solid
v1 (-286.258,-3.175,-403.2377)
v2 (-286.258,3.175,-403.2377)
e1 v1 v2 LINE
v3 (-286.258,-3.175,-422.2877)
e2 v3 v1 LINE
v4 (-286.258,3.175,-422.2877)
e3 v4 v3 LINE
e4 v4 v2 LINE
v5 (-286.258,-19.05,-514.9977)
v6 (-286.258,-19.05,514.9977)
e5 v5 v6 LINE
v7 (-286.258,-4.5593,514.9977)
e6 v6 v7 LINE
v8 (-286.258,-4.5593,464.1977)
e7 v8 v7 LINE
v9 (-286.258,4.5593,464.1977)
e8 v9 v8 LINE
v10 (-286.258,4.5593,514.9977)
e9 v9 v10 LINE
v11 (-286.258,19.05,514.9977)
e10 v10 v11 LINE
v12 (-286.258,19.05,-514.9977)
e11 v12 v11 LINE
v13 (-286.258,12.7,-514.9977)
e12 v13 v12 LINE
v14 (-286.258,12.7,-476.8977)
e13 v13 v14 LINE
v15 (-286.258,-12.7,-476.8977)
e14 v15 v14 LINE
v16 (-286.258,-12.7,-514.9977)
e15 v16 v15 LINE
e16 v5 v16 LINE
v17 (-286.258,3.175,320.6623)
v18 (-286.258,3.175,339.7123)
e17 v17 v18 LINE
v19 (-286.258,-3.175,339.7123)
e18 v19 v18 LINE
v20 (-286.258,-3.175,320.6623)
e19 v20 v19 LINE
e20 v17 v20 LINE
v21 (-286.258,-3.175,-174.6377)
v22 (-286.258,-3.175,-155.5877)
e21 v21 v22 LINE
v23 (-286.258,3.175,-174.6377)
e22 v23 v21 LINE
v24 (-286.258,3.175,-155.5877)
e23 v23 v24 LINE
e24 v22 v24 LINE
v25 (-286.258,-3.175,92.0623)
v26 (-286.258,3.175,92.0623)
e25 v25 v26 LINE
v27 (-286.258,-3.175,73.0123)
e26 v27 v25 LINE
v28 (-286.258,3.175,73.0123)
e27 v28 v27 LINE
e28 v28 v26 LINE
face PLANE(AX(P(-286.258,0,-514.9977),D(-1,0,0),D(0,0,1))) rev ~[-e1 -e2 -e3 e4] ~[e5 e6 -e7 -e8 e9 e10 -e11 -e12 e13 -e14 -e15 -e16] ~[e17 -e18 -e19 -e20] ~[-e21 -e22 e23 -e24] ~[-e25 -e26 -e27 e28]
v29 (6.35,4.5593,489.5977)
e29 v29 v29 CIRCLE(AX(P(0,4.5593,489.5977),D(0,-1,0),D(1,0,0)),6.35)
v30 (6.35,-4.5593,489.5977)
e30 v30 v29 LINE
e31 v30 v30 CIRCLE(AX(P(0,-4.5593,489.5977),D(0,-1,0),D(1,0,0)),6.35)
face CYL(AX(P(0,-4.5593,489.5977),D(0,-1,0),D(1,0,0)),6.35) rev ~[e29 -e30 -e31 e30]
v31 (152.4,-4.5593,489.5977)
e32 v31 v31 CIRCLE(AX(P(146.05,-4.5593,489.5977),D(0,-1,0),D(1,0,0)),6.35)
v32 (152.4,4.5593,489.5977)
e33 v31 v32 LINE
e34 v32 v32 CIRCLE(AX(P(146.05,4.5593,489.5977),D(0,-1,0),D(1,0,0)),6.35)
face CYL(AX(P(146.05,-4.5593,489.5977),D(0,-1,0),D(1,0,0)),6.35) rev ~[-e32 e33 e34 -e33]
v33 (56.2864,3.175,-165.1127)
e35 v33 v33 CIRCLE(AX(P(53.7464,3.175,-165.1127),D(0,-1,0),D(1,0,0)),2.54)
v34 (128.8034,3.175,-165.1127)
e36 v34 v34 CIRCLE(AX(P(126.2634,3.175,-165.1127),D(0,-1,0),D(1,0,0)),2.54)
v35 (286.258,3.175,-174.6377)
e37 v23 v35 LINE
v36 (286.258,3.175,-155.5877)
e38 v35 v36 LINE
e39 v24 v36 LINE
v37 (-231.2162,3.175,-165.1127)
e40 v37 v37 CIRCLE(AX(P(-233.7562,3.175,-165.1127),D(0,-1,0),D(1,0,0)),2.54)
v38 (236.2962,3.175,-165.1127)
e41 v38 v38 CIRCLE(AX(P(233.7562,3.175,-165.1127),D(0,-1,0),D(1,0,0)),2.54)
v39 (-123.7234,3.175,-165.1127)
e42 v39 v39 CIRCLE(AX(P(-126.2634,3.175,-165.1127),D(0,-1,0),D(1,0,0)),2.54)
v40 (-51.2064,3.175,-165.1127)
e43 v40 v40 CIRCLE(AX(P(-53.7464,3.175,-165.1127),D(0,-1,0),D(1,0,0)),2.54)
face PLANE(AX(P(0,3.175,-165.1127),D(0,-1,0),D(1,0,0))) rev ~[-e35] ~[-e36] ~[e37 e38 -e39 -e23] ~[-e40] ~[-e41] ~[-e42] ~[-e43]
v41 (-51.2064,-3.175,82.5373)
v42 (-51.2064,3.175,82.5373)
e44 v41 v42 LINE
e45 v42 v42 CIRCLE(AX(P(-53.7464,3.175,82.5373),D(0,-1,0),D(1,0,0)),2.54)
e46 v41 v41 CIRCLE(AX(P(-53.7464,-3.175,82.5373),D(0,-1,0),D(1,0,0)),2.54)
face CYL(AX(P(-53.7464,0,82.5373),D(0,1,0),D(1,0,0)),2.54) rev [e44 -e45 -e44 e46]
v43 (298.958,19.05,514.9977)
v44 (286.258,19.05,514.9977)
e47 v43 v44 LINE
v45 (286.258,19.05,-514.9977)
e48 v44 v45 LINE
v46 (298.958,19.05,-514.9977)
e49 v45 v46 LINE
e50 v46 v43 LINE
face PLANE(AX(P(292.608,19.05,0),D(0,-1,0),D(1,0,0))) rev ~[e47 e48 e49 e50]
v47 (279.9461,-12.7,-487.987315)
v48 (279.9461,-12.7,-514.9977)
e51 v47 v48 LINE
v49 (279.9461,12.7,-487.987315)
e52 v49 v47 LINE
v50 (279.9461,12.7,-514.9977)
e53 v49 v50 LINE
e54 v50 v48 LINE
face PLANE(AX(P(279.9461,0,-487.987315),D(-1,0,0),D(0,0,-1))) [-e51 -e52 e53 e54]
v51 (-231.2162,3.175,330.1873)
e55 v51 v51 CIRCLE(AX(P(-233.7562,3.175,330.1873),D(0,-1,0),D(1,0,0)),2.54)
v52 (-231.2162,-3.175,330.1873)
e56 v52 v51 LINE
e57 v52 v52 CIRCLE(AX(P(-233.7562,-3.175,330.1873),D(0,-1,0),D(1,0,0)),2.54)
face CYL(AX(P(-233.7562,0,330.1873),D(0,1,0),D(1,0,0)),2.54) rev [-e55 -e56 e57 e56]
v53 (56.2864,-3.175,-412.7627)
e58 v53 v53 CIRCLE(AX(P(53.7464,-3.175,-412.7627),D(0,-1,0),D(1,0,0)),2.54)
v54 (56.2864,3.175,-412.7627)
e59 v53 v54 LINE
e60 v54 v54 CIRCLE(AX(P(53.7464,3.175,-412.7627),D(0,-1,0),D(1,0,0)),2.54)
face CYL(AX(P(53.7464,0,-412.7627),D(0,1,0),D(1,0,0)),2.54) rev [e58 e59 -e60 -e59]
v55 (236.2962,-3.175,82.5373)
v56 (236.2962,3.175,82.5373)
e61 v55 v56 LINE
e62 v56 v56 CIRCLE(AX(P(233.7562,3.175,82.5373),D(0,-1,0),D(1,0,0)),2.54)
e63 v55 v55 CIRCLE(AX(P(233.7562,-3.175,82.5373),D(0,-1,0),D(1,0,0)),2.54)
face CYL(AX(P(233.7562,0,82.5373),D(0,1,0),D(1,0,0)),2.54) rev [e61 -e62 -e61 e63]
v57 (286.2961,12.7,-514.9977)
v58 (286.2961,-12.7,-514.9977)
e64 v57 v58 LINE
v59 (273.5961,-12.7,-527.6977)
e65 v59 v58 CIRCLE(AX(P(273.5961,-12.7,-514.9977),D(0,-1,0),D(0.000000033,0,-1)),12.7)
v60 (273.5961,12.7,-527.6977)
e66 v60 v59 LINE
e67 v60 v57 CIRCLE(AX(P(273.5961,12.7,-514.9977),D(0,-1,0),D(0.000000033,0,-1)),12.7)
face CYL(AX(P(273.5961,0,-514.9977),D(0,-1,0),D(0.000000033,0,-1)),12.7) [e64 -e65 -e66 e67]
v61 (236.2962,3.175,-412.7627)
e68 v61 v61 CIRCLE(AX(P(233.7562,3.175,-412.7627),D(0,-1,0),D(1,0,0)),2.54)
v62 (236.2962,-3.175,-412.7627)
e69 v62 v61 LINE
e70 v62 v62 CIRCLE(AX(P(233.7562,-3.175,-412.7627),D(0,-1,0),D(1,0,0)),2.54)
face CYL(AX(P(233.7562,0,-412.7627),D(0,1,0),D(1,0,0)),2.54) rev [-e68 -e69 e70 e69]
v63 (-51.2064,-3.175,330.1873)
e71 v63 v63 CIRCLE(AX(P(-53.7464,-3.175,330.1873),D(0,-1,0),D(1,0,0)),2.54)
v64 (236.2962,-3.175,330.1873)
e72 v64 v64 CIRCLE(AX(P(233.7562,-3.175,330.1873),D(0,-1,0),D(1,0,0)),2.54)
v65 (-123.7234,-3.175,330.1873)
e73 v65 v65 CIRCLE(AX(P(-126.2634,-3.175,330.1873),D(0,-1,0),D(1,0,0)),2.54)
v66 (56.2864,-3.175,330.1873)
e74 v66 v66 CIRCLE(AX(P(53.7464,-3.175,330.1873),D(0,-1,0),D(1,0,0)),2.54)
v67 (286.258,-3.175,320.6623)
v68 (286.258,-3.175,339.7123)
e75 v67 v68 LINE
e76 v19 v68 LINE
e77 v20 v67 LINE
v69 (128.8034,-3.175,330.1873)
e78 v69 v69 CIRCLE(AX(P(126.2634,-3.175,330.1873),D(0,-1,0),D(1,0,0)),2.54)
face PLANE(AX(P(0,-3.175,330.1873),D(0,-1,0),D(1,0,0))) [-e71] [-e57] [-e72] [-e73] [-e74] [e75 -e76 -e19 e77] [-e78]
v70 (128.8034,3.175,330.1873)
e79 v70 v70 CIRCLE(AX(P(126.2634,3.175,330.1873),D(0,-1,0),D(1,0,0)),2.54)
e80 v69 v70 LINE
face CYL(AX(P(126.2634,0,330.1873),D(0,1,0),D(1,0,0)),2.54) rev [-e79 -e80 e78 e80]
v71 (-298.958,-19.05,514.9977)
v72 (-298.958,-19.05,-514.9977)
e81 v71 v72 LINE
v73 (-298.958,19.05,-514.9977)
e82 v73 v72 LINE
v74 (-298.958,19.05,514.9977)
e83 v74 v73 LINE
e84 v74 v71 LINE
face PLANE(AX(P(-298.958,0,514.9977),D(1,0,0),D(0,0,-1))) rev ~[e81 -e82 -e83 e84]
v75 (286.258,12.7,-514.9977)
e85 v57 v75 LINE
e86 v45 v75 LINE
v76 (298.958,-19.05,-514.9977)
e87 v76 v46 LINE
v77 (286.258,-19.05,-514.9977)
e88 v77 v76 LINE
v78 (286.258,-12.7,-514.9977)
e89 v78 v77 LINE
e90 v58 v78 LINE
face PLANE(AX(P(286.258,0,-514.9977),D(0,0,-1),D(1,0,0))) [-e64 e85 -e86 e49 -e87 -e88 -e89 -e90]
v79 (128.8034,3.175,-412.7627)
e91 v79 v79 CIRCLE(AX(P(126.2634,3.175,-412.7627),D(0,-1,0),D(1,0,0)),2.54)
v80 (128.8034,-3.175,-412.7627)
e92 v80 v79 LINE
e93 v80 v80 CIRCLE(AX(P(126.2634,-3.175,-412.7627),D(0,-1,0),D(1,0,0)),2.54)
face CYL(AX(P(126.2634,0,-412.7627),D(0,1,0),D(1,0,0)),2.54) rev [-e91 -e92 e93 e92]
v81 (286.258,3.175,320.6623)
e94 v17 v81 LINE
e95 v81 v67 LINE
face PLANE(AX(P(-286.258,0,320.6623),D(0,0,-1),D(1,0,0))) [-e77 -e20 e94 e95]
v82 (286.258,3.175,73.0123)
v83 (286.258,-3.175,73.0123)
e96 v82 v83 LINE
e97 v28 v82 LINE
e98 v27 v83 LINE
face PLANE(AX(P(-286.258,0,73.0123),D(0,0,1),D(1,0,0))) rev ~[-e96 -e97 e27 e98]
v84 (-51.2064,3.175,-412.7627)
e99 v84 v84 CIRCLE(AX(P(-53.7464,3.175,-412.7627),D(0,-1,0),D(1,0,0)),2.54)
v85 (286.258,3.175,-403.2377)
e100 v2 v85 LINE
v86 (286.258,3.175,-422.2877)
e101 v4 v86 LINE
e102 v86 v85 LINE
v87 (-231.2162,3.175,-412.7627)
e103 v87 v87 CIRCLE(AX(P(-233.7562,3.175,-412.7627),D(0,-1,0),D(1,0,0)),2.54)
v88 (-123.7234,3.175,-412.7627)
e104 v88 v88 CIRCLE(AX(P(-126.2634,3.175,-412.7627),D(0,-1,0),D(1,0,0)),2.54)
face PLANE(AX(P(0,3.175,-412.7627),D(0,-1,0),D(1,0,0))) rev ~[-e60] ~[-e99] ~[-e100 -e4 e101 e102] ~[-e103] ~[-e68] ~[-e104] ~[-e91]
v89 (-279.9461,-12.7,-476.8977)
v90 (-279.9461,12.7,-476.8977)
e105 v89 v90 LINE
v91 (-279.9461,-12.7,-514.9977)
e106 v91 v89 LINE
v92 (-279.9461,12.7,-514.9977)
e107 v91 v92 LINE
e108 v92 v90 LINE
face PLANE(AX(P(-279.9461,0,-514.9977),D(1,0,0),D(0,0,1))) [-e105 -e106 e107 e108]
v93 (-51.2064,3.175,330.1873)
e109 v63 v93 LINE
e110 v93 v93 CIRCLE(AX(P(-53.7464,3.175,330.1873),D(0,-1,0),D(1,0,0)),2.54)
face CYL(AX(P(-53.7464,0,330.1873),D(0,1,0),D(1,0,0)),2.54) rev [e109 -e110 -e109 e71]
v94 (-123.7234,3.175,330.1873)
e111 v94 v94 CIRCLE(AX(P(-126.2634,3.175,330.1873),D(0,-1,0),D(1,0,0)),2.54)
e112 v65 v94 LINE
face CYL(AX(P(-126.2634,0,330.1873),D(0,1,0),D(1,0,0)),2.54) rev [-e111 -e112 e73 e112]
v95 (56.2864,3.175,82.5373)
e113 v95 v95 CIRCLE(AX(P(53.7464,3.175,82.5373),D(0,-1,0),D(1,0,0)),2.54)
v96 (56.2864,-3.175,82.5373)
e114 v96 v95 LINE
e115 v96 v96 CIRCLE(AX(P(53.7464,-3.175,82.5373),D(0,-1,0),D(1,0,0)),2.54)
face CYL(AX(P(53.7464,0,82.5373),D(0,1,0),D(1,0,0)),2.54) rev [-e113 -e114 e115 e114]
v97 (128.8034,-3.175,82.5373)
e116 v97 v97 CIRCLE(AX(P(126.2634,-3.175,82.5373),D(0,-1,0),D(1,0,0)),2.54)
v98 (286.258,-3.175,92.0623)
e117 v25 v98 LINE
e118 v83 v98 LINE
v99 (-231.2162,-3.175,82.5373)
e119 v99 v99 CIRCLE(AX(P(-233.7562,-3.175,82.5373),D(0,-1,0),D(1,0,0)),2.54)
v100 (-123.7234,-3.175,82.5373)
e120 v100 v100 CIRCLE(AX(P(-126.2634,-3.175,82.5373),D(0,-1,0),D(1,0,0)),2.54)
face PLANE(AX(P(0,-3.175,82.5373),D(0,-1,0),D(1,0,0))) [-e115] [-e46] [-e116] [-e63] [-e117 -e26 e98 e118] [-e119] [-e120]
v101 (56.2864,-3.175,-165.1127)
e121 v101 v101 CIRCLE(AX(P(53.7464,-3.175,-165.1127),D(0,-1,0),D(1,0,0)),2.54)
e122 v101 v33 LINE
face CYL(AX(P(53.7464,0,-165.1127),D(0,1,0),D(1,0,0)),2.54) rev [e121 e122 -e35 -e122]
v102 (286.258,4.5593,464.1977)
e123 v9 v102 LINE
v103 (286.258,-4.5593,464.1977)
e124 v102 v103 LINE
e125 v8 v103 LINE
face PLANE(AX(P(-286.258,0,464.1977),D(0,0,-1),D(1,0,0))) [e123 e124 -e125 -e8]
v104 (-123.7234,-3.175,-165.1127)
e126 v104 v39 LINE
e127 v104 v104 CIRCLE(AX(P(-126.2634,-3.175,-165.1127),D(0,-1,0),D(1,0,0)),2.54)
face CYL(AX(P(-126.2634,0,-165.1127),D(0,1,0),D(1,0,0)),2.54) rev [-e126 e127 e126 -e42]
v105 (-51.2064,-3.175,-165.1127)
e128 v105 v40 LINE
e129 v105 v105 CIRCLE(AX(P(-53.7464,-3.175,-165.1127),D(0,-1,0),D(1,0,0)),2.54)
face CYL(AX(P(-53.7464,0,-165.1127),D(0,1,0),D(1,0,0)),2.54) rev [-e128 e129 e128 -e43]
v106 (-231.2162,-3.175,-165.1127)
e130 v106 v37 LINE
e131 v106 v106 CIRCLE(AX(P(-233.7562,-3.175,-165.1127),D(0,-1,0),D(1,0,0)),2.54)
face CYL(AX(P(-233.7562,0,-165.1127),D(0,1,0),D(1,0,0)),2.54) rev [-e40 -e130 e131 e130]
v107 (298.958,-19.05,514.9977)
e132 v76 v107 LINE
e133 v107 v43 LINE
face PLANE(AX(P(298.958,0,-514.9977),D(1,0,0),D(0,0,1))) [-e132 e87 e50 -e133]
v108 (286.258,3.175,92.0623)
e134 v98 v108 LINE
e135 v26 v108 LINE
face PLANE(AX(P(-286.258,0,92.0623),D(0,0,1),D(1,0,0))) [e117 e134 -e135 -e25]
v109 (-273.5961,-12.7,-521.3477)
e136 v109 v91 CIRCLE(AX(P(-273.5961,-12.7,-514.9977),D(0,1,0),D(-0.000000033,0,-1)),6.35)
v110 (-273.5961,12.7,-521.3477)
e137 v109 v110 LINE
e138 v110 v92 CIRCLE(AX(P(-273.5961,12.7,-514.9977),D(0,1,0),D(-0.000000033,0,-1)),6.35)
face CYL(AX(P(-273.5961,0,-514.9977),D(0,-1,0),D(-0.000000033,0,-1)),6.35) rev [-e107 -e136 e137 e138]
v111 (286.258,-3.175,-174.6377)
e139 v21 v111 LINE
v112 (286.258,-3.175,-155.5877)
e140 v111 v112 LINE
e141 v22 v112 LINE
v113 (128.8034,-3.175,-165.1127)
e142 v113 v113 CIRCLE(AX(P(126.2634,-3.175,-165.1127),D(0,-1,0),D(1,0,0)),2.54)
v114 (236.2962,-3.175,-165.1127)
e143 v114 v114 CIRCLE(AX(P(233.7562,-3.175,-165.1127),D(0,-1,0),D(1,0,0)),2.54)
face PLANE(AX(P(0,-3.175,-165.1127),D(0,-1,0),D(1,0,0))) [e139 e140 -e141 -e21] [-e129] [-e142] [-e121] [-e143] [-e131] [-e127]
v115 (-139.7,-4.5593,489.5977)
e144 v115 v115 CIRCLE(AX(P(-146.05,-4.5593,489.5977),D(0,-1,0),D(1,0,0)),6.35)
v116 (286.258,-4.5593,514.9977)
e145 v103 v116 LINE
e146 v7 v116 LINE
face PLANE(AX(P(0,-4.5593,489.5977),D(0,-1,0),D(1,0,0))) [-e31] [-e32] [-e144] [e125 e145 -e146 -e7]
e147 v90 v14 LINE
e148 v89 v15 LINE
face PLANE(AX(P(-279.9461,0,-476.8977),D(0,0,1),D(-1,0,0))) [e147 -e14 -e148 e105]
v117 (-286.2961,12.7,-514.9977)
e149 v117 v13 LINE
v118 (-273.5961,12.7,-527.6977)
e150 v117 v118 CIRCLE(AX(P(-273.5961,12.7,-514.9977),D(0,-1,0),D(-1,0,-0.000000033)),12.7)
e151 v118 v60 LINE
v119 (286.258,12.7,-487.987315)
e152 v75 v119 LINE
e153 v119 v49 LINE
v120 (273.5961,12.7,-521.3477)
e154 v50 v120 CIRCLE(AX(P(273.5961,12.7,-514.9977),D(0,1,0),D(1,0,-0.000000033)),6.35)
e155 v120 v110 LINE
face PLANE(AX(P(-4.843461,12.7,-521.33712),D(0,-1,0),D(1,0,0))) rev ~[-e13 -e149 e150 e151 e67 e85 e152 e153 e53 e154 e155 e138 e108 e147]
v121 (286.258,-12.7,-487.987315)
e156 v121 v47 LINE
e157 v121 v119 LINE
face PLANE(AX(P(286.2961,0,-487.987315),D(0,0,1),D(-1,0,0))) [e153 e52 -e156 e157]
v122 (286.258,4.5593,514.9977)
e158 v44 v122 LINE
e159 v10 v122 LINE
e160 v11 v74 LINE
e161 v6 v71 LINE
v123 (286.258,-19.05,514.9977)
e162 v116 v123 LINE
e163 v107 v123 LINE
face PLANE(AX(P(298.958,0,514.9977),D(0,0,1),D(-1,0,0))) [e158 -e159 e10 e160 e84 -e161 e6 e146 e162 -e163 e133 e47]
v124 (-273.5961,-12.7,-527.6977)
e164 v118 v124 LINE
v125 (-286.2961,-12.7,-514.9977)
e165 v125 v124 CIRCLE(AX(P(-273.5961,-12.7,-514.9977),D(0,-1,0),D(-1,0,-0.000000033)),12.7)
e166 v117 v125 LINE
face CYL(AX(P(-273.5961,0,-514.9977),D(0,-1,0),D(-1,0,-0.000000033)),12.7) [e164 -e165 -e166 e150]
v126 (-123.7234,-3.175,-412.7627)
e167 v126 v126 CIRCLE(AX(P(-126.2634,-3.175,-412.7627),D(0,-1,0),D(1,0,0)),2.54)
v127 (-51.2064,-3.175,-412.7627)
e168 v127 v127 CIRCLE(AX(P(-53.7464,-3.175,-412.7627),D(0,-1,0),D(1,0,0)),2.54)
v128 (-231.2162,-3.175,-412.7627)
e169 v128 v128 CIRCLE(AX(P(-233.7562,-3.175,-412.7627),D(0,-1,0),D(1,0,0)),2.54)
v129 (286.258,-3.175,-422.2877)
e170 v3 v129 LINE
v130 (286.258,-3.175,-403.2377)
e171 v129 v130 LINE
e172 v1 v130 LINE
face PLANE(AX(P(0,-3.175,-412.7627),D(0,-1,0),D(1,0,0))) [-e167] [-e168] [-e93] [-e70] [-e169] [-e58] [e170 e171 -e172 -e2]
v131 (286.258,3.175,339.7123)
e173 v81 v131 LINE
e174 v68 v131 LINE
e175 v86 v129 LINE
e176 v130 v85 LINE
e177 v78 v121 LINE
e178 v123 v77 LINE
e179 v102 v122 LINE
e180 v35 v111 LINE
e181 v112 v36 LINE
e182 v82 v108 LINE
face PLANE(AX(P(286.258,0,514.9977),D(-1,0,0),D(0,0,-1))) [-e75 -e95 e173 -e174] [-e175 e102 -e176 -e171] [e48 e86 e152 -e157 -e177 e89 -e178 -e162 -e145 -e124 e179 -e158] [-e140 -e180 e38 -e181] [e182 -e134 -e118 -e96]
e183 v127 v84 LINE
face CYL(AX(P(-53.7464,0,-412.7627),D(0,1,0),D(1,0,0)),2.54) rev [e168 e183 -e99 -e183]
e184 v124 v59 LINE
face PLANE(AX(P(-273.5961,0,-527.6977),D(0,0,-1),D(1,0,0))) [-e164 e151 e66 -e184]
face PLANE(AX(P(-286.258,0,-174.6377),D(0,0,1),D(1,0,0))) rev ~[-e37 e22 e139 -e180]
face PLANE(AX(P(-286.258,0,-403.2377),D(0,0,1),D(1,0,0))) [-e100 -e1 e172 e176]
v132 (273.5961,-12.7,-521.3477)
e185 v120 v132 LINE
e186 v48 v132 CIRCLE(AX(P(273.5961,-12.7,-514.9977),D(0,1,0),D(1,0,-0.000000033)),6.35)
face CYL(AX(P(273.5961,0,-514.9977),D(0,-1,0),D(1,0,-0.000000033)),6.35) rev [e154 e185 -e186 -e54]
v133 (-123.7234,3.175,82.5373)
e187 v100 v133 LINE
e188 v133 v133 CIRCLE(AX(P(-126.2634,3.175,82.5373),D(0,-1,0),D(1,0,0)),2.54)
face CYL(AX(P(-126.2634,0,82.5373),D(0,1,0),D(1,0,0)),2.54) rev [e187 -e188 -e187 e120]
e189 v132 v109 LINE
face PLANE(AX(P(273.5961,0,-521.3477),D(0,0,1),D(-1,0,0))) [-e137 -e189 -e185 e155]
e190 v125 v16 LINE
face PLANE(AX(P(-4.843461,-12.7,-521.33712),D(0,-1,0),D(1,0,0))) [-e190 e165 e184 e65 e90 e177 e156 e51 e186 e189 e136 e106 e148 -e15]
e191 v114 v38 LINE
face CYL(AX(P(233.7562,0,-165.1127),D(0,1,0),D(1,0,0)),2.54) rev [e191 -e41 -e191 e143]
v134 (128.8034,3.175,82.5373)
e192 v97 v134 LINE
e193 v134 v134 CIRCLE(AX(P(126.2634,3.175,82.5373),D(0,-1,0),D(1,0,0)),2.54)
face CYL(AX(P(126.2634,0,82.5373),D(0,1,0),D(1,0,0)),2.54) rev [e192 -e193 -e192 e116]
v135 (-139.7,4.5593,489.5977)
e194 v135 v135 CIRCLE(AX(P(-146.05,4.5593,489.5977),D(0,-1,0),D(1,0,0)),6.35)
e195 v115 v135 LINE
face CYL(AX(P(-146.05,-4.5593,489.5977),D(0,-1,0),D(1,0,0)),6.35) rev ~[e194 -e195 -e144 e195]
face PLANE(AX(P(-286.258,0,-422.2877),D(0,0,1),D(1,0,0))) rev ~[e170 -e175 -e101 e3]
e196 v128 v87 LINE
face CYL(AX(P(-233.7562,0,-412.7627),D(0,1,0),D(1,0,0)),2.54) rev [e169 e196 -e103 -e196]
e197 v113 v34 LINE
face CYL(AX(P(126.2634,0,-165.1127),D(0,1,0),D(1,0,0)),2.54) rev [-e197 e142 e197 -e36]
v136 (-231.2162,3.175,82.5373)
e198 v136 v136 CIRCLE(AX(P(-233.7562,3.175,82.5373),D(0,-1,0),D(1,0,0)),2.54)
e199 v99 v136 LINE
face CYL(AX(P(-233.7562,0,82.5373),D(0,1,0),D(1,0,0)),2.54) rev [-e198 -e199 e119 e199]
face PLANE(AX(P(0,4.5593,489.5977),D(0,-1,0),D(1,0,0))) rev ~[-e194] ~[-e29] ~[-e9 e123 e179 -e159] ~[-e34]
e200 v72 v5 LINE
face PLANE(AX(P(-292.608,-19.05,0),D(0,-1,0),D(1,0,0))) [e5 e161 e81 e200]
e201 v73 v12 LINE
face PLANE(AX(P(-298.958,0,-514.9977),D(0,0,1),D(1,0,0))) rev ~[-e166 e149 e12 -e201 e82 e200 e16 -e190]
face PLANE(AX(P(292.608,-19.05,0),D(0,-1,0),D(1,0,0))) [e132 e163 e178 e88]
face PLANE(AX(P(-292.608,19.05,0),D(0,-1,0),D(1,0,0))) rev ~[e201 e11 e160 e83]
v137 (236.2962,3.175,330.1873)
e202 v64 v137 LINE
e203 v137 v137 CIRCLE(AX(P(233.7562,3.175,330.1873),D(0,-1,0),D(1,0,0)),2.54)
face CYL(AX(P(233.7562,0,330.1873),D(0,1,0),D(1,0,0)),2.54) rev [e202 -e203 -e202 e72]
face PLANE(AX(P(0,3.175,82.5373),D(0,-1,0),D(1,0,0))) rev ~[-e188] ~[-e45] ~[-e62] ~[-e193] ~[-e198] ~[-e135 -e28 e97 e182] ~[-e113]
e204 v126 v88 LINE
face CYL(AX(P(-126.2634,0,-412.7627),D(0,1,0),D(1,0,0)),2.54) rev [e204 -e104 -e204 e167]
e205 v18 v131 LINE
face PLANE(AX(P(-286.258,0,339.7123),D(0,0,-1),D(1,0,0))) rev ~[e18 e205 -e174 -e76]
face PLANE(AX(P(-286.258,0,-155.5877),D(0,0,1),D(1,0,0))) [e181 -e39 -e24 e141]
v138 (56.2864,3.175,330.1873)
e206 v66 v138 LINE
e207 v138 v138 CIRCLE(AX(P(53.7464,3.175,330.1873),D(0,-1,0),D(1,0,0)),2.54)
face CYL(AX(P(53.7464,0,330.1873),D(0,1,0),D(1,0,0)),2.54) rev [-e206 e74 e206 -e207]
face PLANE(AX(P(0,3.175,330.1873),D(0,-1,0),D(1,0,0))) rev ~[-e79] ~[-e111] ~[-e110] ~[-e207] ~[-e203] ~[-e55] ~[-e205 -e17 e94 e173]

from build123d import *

# Parameters (mm, degrees)
F0_W     = 572.516
F0_H     = 50.8
F1_DEPTH = 4.5593
F2_DEPTH = 19.05
F3_R     = 6.35
F4_DEPTH = 25.4
F6_W     = 572.516
F6_H     = 19.05
F6_R     = 2.54
F7_DEPTH = 3.175
F8_DEPTH = 12.7


with BuildPart() as f1:
    # F0 (on Front) → F1 (new body, symmetric)
    with BuildSketch(Plane.XZ):
        with Locations((0, 489.5977)):
            Rectangle(F0_W, F0_H)
    extrude(amount=F1_DEPTH, both=True)

    # F0 (on Front) → F2 (join, symmetric)
    with BuildSketch(Plane.XZ):
        Polygon((-286.258, 464.1977), (-286.258, 514.9977), (-298.958, 514.9977), (-298.958, -514.9977), (-286.258, -514.9977), align=None)
        Polygon((298.958, 514.9977), (286.258, 514.9977), (286.258, 464.1977), (286.258, -514.9977), (298.958, -514.9977), align=None)
    extrude(amount=F2_DEPTH, both=True)

    # F3 (on face) → F4 (cut)
    with BuildSketch(Plane.XZ.offset(4.5593)):
        with Locations((146.05, 489.5977)):
            Circle(F3_R)
        with Locations((-146.05, 489.5977)):
            Circle(F3_R)
        with Locations((0, 489.5977)):
            Circle(F3_R)
    extrude(amount=-F4_DEPTH, mode=Mode.SUBTRACT)

    # F6 (on Front) → F7 (join, symmetric)
    with BuildSketch(Plane.XZ):
        with Locations((0, -412.7627)):
            Rectangle(F6_W, F6_H)
        with Locations((-233.7562, -412.7627)):
            Circle(F6_R, mode=Mode.SUBTRACT)
        with Locations((-126.2634, -412.7627)):
            Circle(F6_R, mode=Mode.SUBTRACT)
        with Locations((-53.7464, -412.7627)):
            Circle(F6_R, mode=Mode.SUBTRACT)
        with Locations((53.7464, -412.7627)):
            Circle(F6_R, mode=Mode.SUBTRACT)
        with Locations((126.2634, -412.7627)):
            Circle(F6_R, mode=Mode.SUBTRACT)
        with Locations((233.7562, -412.7627)):
            Circle(F6_R, mode=Mode.SUBTRACT)
        with Locations((0, -165.1127)):
            Rectangle(F6_W, F6_H)
        with Locations((-233.7562, -165.1127)):
            Circle(F6_R, mode=Mode.SUBTRACT)
        with Locations((-126.2634, -165.1127)):
            Circle(F6_R, mode=Mode.SUBTRACT)
        with Locations((-53.7464, -165.1127)):
            Circle(F6_R, mode=Mode.SUBTRACT)
        with Locations((53.7464, -165.1127)):
            Circle(F6_R, mode=Mode.SUBTRACT)
        with Locations((126.2634, -165.1127)):
            Circle(F6_R, mode=Mode.SUBTRACT)
        with Locations((233.7562, -165.1127)):
            Circle(F6_R, mode=Mode.SUBTRACT)
        with Locations((0, 82.5373)):
            Rectangle(F6_W, F6_H)
        with Locations((-233.7562, 82.5373)):
            Circle(F6_R, mode=Mode.SUBTRACT)
        with Locations((-126.2634, 82.5373)):
            Circle(F6_R, mode=Mode.SUBTRACT)
        with Locations((-53.7464, 82.5373)):
            Circle(F6_R, mode=Mode.SUBTRACT)
        with Locations((53.7464, 82.5373)):
            Circle(F6_R, mode=Mode.SUBTRACT)
        with Locations((126.2634, 82.5373)):
            Circle(F6_R, mode=Mode.SUBTRACT)
        with Locations((233.7562, 82.5373)):
            Circle(F6_R, mode=Mode.SUBTRACT)
        with Locations((0, 330.1873)):
            Rectangle(F6_W, F6_H)
        with Locations((-233.7562, 330.1873)):
            Circle(F6_R, mode=Mode.SUBTRACT)
        with Locations((-126.2634, 330.1873)):
            Circle(F6_R, mode=Mode.SUBTRACT)
        with Locations((-53.7464, 330.1873)):
            Circle(F6_R, mode=Mode.SUBTRACT)
        with Locations((53.7464, 330.1873)):
            Circle(F6_R, mode=Mode.SUBTRACT)
        with Locations((126.2634, 330.1873)):
            Circle(F6_R, mode=Mode.SUBTRACT)
        with Locations((233.7562, 330.1873)):
            Circle(F6_R, mode=Mode.SUBTRACT)
    extrude(amount=F7_DEPTH, both=True)

    # F5 (on Front) → F8 (join, symmetric)
    with BuildSketch(Plane.XZ):
        with BuildLine():
            Line((-279.9461, -476.8977), (-286.2961, -476.8977))
            Line((-286.2961, -476.8977), (-286.2961, -514.9977))
            ThreePointArc((-286.2961, -514.9977), (-282.576356, -523.977956), (-273.5961, -527.6977))
            Line((-273.5961, -527.6977), (273.5961, -527.6977))
            ThreePointArc((273.5961, -527.6977), (282.576356, -523.977956), (286.2961, -514.9977))
            Line((286.2961, -514.9977), (286.2961, -487.987315))
            Line((286.2961, -487.987315), (279.9461, -487.987315))
            Line((279.9461, -487.987315), (279.9461, -514.9977))
            ThreePointArc((279.9461, -514.9977), (278.086228, -519.487828), (273.5961, -521.3477))
            Line((273.5961, -521.3477), (-273.5961, -521.3477))
            ThreePointArc((-273.5961, -521.3477), (-278.086228, -519.487828), (-279.9461, -514.9977))
            Line((-279.9461, -514.9977), (-279.9461, -476.8977))
        make_face()
    extrude(amount=F8_DEPTH, both=True)


solid = f1.part
